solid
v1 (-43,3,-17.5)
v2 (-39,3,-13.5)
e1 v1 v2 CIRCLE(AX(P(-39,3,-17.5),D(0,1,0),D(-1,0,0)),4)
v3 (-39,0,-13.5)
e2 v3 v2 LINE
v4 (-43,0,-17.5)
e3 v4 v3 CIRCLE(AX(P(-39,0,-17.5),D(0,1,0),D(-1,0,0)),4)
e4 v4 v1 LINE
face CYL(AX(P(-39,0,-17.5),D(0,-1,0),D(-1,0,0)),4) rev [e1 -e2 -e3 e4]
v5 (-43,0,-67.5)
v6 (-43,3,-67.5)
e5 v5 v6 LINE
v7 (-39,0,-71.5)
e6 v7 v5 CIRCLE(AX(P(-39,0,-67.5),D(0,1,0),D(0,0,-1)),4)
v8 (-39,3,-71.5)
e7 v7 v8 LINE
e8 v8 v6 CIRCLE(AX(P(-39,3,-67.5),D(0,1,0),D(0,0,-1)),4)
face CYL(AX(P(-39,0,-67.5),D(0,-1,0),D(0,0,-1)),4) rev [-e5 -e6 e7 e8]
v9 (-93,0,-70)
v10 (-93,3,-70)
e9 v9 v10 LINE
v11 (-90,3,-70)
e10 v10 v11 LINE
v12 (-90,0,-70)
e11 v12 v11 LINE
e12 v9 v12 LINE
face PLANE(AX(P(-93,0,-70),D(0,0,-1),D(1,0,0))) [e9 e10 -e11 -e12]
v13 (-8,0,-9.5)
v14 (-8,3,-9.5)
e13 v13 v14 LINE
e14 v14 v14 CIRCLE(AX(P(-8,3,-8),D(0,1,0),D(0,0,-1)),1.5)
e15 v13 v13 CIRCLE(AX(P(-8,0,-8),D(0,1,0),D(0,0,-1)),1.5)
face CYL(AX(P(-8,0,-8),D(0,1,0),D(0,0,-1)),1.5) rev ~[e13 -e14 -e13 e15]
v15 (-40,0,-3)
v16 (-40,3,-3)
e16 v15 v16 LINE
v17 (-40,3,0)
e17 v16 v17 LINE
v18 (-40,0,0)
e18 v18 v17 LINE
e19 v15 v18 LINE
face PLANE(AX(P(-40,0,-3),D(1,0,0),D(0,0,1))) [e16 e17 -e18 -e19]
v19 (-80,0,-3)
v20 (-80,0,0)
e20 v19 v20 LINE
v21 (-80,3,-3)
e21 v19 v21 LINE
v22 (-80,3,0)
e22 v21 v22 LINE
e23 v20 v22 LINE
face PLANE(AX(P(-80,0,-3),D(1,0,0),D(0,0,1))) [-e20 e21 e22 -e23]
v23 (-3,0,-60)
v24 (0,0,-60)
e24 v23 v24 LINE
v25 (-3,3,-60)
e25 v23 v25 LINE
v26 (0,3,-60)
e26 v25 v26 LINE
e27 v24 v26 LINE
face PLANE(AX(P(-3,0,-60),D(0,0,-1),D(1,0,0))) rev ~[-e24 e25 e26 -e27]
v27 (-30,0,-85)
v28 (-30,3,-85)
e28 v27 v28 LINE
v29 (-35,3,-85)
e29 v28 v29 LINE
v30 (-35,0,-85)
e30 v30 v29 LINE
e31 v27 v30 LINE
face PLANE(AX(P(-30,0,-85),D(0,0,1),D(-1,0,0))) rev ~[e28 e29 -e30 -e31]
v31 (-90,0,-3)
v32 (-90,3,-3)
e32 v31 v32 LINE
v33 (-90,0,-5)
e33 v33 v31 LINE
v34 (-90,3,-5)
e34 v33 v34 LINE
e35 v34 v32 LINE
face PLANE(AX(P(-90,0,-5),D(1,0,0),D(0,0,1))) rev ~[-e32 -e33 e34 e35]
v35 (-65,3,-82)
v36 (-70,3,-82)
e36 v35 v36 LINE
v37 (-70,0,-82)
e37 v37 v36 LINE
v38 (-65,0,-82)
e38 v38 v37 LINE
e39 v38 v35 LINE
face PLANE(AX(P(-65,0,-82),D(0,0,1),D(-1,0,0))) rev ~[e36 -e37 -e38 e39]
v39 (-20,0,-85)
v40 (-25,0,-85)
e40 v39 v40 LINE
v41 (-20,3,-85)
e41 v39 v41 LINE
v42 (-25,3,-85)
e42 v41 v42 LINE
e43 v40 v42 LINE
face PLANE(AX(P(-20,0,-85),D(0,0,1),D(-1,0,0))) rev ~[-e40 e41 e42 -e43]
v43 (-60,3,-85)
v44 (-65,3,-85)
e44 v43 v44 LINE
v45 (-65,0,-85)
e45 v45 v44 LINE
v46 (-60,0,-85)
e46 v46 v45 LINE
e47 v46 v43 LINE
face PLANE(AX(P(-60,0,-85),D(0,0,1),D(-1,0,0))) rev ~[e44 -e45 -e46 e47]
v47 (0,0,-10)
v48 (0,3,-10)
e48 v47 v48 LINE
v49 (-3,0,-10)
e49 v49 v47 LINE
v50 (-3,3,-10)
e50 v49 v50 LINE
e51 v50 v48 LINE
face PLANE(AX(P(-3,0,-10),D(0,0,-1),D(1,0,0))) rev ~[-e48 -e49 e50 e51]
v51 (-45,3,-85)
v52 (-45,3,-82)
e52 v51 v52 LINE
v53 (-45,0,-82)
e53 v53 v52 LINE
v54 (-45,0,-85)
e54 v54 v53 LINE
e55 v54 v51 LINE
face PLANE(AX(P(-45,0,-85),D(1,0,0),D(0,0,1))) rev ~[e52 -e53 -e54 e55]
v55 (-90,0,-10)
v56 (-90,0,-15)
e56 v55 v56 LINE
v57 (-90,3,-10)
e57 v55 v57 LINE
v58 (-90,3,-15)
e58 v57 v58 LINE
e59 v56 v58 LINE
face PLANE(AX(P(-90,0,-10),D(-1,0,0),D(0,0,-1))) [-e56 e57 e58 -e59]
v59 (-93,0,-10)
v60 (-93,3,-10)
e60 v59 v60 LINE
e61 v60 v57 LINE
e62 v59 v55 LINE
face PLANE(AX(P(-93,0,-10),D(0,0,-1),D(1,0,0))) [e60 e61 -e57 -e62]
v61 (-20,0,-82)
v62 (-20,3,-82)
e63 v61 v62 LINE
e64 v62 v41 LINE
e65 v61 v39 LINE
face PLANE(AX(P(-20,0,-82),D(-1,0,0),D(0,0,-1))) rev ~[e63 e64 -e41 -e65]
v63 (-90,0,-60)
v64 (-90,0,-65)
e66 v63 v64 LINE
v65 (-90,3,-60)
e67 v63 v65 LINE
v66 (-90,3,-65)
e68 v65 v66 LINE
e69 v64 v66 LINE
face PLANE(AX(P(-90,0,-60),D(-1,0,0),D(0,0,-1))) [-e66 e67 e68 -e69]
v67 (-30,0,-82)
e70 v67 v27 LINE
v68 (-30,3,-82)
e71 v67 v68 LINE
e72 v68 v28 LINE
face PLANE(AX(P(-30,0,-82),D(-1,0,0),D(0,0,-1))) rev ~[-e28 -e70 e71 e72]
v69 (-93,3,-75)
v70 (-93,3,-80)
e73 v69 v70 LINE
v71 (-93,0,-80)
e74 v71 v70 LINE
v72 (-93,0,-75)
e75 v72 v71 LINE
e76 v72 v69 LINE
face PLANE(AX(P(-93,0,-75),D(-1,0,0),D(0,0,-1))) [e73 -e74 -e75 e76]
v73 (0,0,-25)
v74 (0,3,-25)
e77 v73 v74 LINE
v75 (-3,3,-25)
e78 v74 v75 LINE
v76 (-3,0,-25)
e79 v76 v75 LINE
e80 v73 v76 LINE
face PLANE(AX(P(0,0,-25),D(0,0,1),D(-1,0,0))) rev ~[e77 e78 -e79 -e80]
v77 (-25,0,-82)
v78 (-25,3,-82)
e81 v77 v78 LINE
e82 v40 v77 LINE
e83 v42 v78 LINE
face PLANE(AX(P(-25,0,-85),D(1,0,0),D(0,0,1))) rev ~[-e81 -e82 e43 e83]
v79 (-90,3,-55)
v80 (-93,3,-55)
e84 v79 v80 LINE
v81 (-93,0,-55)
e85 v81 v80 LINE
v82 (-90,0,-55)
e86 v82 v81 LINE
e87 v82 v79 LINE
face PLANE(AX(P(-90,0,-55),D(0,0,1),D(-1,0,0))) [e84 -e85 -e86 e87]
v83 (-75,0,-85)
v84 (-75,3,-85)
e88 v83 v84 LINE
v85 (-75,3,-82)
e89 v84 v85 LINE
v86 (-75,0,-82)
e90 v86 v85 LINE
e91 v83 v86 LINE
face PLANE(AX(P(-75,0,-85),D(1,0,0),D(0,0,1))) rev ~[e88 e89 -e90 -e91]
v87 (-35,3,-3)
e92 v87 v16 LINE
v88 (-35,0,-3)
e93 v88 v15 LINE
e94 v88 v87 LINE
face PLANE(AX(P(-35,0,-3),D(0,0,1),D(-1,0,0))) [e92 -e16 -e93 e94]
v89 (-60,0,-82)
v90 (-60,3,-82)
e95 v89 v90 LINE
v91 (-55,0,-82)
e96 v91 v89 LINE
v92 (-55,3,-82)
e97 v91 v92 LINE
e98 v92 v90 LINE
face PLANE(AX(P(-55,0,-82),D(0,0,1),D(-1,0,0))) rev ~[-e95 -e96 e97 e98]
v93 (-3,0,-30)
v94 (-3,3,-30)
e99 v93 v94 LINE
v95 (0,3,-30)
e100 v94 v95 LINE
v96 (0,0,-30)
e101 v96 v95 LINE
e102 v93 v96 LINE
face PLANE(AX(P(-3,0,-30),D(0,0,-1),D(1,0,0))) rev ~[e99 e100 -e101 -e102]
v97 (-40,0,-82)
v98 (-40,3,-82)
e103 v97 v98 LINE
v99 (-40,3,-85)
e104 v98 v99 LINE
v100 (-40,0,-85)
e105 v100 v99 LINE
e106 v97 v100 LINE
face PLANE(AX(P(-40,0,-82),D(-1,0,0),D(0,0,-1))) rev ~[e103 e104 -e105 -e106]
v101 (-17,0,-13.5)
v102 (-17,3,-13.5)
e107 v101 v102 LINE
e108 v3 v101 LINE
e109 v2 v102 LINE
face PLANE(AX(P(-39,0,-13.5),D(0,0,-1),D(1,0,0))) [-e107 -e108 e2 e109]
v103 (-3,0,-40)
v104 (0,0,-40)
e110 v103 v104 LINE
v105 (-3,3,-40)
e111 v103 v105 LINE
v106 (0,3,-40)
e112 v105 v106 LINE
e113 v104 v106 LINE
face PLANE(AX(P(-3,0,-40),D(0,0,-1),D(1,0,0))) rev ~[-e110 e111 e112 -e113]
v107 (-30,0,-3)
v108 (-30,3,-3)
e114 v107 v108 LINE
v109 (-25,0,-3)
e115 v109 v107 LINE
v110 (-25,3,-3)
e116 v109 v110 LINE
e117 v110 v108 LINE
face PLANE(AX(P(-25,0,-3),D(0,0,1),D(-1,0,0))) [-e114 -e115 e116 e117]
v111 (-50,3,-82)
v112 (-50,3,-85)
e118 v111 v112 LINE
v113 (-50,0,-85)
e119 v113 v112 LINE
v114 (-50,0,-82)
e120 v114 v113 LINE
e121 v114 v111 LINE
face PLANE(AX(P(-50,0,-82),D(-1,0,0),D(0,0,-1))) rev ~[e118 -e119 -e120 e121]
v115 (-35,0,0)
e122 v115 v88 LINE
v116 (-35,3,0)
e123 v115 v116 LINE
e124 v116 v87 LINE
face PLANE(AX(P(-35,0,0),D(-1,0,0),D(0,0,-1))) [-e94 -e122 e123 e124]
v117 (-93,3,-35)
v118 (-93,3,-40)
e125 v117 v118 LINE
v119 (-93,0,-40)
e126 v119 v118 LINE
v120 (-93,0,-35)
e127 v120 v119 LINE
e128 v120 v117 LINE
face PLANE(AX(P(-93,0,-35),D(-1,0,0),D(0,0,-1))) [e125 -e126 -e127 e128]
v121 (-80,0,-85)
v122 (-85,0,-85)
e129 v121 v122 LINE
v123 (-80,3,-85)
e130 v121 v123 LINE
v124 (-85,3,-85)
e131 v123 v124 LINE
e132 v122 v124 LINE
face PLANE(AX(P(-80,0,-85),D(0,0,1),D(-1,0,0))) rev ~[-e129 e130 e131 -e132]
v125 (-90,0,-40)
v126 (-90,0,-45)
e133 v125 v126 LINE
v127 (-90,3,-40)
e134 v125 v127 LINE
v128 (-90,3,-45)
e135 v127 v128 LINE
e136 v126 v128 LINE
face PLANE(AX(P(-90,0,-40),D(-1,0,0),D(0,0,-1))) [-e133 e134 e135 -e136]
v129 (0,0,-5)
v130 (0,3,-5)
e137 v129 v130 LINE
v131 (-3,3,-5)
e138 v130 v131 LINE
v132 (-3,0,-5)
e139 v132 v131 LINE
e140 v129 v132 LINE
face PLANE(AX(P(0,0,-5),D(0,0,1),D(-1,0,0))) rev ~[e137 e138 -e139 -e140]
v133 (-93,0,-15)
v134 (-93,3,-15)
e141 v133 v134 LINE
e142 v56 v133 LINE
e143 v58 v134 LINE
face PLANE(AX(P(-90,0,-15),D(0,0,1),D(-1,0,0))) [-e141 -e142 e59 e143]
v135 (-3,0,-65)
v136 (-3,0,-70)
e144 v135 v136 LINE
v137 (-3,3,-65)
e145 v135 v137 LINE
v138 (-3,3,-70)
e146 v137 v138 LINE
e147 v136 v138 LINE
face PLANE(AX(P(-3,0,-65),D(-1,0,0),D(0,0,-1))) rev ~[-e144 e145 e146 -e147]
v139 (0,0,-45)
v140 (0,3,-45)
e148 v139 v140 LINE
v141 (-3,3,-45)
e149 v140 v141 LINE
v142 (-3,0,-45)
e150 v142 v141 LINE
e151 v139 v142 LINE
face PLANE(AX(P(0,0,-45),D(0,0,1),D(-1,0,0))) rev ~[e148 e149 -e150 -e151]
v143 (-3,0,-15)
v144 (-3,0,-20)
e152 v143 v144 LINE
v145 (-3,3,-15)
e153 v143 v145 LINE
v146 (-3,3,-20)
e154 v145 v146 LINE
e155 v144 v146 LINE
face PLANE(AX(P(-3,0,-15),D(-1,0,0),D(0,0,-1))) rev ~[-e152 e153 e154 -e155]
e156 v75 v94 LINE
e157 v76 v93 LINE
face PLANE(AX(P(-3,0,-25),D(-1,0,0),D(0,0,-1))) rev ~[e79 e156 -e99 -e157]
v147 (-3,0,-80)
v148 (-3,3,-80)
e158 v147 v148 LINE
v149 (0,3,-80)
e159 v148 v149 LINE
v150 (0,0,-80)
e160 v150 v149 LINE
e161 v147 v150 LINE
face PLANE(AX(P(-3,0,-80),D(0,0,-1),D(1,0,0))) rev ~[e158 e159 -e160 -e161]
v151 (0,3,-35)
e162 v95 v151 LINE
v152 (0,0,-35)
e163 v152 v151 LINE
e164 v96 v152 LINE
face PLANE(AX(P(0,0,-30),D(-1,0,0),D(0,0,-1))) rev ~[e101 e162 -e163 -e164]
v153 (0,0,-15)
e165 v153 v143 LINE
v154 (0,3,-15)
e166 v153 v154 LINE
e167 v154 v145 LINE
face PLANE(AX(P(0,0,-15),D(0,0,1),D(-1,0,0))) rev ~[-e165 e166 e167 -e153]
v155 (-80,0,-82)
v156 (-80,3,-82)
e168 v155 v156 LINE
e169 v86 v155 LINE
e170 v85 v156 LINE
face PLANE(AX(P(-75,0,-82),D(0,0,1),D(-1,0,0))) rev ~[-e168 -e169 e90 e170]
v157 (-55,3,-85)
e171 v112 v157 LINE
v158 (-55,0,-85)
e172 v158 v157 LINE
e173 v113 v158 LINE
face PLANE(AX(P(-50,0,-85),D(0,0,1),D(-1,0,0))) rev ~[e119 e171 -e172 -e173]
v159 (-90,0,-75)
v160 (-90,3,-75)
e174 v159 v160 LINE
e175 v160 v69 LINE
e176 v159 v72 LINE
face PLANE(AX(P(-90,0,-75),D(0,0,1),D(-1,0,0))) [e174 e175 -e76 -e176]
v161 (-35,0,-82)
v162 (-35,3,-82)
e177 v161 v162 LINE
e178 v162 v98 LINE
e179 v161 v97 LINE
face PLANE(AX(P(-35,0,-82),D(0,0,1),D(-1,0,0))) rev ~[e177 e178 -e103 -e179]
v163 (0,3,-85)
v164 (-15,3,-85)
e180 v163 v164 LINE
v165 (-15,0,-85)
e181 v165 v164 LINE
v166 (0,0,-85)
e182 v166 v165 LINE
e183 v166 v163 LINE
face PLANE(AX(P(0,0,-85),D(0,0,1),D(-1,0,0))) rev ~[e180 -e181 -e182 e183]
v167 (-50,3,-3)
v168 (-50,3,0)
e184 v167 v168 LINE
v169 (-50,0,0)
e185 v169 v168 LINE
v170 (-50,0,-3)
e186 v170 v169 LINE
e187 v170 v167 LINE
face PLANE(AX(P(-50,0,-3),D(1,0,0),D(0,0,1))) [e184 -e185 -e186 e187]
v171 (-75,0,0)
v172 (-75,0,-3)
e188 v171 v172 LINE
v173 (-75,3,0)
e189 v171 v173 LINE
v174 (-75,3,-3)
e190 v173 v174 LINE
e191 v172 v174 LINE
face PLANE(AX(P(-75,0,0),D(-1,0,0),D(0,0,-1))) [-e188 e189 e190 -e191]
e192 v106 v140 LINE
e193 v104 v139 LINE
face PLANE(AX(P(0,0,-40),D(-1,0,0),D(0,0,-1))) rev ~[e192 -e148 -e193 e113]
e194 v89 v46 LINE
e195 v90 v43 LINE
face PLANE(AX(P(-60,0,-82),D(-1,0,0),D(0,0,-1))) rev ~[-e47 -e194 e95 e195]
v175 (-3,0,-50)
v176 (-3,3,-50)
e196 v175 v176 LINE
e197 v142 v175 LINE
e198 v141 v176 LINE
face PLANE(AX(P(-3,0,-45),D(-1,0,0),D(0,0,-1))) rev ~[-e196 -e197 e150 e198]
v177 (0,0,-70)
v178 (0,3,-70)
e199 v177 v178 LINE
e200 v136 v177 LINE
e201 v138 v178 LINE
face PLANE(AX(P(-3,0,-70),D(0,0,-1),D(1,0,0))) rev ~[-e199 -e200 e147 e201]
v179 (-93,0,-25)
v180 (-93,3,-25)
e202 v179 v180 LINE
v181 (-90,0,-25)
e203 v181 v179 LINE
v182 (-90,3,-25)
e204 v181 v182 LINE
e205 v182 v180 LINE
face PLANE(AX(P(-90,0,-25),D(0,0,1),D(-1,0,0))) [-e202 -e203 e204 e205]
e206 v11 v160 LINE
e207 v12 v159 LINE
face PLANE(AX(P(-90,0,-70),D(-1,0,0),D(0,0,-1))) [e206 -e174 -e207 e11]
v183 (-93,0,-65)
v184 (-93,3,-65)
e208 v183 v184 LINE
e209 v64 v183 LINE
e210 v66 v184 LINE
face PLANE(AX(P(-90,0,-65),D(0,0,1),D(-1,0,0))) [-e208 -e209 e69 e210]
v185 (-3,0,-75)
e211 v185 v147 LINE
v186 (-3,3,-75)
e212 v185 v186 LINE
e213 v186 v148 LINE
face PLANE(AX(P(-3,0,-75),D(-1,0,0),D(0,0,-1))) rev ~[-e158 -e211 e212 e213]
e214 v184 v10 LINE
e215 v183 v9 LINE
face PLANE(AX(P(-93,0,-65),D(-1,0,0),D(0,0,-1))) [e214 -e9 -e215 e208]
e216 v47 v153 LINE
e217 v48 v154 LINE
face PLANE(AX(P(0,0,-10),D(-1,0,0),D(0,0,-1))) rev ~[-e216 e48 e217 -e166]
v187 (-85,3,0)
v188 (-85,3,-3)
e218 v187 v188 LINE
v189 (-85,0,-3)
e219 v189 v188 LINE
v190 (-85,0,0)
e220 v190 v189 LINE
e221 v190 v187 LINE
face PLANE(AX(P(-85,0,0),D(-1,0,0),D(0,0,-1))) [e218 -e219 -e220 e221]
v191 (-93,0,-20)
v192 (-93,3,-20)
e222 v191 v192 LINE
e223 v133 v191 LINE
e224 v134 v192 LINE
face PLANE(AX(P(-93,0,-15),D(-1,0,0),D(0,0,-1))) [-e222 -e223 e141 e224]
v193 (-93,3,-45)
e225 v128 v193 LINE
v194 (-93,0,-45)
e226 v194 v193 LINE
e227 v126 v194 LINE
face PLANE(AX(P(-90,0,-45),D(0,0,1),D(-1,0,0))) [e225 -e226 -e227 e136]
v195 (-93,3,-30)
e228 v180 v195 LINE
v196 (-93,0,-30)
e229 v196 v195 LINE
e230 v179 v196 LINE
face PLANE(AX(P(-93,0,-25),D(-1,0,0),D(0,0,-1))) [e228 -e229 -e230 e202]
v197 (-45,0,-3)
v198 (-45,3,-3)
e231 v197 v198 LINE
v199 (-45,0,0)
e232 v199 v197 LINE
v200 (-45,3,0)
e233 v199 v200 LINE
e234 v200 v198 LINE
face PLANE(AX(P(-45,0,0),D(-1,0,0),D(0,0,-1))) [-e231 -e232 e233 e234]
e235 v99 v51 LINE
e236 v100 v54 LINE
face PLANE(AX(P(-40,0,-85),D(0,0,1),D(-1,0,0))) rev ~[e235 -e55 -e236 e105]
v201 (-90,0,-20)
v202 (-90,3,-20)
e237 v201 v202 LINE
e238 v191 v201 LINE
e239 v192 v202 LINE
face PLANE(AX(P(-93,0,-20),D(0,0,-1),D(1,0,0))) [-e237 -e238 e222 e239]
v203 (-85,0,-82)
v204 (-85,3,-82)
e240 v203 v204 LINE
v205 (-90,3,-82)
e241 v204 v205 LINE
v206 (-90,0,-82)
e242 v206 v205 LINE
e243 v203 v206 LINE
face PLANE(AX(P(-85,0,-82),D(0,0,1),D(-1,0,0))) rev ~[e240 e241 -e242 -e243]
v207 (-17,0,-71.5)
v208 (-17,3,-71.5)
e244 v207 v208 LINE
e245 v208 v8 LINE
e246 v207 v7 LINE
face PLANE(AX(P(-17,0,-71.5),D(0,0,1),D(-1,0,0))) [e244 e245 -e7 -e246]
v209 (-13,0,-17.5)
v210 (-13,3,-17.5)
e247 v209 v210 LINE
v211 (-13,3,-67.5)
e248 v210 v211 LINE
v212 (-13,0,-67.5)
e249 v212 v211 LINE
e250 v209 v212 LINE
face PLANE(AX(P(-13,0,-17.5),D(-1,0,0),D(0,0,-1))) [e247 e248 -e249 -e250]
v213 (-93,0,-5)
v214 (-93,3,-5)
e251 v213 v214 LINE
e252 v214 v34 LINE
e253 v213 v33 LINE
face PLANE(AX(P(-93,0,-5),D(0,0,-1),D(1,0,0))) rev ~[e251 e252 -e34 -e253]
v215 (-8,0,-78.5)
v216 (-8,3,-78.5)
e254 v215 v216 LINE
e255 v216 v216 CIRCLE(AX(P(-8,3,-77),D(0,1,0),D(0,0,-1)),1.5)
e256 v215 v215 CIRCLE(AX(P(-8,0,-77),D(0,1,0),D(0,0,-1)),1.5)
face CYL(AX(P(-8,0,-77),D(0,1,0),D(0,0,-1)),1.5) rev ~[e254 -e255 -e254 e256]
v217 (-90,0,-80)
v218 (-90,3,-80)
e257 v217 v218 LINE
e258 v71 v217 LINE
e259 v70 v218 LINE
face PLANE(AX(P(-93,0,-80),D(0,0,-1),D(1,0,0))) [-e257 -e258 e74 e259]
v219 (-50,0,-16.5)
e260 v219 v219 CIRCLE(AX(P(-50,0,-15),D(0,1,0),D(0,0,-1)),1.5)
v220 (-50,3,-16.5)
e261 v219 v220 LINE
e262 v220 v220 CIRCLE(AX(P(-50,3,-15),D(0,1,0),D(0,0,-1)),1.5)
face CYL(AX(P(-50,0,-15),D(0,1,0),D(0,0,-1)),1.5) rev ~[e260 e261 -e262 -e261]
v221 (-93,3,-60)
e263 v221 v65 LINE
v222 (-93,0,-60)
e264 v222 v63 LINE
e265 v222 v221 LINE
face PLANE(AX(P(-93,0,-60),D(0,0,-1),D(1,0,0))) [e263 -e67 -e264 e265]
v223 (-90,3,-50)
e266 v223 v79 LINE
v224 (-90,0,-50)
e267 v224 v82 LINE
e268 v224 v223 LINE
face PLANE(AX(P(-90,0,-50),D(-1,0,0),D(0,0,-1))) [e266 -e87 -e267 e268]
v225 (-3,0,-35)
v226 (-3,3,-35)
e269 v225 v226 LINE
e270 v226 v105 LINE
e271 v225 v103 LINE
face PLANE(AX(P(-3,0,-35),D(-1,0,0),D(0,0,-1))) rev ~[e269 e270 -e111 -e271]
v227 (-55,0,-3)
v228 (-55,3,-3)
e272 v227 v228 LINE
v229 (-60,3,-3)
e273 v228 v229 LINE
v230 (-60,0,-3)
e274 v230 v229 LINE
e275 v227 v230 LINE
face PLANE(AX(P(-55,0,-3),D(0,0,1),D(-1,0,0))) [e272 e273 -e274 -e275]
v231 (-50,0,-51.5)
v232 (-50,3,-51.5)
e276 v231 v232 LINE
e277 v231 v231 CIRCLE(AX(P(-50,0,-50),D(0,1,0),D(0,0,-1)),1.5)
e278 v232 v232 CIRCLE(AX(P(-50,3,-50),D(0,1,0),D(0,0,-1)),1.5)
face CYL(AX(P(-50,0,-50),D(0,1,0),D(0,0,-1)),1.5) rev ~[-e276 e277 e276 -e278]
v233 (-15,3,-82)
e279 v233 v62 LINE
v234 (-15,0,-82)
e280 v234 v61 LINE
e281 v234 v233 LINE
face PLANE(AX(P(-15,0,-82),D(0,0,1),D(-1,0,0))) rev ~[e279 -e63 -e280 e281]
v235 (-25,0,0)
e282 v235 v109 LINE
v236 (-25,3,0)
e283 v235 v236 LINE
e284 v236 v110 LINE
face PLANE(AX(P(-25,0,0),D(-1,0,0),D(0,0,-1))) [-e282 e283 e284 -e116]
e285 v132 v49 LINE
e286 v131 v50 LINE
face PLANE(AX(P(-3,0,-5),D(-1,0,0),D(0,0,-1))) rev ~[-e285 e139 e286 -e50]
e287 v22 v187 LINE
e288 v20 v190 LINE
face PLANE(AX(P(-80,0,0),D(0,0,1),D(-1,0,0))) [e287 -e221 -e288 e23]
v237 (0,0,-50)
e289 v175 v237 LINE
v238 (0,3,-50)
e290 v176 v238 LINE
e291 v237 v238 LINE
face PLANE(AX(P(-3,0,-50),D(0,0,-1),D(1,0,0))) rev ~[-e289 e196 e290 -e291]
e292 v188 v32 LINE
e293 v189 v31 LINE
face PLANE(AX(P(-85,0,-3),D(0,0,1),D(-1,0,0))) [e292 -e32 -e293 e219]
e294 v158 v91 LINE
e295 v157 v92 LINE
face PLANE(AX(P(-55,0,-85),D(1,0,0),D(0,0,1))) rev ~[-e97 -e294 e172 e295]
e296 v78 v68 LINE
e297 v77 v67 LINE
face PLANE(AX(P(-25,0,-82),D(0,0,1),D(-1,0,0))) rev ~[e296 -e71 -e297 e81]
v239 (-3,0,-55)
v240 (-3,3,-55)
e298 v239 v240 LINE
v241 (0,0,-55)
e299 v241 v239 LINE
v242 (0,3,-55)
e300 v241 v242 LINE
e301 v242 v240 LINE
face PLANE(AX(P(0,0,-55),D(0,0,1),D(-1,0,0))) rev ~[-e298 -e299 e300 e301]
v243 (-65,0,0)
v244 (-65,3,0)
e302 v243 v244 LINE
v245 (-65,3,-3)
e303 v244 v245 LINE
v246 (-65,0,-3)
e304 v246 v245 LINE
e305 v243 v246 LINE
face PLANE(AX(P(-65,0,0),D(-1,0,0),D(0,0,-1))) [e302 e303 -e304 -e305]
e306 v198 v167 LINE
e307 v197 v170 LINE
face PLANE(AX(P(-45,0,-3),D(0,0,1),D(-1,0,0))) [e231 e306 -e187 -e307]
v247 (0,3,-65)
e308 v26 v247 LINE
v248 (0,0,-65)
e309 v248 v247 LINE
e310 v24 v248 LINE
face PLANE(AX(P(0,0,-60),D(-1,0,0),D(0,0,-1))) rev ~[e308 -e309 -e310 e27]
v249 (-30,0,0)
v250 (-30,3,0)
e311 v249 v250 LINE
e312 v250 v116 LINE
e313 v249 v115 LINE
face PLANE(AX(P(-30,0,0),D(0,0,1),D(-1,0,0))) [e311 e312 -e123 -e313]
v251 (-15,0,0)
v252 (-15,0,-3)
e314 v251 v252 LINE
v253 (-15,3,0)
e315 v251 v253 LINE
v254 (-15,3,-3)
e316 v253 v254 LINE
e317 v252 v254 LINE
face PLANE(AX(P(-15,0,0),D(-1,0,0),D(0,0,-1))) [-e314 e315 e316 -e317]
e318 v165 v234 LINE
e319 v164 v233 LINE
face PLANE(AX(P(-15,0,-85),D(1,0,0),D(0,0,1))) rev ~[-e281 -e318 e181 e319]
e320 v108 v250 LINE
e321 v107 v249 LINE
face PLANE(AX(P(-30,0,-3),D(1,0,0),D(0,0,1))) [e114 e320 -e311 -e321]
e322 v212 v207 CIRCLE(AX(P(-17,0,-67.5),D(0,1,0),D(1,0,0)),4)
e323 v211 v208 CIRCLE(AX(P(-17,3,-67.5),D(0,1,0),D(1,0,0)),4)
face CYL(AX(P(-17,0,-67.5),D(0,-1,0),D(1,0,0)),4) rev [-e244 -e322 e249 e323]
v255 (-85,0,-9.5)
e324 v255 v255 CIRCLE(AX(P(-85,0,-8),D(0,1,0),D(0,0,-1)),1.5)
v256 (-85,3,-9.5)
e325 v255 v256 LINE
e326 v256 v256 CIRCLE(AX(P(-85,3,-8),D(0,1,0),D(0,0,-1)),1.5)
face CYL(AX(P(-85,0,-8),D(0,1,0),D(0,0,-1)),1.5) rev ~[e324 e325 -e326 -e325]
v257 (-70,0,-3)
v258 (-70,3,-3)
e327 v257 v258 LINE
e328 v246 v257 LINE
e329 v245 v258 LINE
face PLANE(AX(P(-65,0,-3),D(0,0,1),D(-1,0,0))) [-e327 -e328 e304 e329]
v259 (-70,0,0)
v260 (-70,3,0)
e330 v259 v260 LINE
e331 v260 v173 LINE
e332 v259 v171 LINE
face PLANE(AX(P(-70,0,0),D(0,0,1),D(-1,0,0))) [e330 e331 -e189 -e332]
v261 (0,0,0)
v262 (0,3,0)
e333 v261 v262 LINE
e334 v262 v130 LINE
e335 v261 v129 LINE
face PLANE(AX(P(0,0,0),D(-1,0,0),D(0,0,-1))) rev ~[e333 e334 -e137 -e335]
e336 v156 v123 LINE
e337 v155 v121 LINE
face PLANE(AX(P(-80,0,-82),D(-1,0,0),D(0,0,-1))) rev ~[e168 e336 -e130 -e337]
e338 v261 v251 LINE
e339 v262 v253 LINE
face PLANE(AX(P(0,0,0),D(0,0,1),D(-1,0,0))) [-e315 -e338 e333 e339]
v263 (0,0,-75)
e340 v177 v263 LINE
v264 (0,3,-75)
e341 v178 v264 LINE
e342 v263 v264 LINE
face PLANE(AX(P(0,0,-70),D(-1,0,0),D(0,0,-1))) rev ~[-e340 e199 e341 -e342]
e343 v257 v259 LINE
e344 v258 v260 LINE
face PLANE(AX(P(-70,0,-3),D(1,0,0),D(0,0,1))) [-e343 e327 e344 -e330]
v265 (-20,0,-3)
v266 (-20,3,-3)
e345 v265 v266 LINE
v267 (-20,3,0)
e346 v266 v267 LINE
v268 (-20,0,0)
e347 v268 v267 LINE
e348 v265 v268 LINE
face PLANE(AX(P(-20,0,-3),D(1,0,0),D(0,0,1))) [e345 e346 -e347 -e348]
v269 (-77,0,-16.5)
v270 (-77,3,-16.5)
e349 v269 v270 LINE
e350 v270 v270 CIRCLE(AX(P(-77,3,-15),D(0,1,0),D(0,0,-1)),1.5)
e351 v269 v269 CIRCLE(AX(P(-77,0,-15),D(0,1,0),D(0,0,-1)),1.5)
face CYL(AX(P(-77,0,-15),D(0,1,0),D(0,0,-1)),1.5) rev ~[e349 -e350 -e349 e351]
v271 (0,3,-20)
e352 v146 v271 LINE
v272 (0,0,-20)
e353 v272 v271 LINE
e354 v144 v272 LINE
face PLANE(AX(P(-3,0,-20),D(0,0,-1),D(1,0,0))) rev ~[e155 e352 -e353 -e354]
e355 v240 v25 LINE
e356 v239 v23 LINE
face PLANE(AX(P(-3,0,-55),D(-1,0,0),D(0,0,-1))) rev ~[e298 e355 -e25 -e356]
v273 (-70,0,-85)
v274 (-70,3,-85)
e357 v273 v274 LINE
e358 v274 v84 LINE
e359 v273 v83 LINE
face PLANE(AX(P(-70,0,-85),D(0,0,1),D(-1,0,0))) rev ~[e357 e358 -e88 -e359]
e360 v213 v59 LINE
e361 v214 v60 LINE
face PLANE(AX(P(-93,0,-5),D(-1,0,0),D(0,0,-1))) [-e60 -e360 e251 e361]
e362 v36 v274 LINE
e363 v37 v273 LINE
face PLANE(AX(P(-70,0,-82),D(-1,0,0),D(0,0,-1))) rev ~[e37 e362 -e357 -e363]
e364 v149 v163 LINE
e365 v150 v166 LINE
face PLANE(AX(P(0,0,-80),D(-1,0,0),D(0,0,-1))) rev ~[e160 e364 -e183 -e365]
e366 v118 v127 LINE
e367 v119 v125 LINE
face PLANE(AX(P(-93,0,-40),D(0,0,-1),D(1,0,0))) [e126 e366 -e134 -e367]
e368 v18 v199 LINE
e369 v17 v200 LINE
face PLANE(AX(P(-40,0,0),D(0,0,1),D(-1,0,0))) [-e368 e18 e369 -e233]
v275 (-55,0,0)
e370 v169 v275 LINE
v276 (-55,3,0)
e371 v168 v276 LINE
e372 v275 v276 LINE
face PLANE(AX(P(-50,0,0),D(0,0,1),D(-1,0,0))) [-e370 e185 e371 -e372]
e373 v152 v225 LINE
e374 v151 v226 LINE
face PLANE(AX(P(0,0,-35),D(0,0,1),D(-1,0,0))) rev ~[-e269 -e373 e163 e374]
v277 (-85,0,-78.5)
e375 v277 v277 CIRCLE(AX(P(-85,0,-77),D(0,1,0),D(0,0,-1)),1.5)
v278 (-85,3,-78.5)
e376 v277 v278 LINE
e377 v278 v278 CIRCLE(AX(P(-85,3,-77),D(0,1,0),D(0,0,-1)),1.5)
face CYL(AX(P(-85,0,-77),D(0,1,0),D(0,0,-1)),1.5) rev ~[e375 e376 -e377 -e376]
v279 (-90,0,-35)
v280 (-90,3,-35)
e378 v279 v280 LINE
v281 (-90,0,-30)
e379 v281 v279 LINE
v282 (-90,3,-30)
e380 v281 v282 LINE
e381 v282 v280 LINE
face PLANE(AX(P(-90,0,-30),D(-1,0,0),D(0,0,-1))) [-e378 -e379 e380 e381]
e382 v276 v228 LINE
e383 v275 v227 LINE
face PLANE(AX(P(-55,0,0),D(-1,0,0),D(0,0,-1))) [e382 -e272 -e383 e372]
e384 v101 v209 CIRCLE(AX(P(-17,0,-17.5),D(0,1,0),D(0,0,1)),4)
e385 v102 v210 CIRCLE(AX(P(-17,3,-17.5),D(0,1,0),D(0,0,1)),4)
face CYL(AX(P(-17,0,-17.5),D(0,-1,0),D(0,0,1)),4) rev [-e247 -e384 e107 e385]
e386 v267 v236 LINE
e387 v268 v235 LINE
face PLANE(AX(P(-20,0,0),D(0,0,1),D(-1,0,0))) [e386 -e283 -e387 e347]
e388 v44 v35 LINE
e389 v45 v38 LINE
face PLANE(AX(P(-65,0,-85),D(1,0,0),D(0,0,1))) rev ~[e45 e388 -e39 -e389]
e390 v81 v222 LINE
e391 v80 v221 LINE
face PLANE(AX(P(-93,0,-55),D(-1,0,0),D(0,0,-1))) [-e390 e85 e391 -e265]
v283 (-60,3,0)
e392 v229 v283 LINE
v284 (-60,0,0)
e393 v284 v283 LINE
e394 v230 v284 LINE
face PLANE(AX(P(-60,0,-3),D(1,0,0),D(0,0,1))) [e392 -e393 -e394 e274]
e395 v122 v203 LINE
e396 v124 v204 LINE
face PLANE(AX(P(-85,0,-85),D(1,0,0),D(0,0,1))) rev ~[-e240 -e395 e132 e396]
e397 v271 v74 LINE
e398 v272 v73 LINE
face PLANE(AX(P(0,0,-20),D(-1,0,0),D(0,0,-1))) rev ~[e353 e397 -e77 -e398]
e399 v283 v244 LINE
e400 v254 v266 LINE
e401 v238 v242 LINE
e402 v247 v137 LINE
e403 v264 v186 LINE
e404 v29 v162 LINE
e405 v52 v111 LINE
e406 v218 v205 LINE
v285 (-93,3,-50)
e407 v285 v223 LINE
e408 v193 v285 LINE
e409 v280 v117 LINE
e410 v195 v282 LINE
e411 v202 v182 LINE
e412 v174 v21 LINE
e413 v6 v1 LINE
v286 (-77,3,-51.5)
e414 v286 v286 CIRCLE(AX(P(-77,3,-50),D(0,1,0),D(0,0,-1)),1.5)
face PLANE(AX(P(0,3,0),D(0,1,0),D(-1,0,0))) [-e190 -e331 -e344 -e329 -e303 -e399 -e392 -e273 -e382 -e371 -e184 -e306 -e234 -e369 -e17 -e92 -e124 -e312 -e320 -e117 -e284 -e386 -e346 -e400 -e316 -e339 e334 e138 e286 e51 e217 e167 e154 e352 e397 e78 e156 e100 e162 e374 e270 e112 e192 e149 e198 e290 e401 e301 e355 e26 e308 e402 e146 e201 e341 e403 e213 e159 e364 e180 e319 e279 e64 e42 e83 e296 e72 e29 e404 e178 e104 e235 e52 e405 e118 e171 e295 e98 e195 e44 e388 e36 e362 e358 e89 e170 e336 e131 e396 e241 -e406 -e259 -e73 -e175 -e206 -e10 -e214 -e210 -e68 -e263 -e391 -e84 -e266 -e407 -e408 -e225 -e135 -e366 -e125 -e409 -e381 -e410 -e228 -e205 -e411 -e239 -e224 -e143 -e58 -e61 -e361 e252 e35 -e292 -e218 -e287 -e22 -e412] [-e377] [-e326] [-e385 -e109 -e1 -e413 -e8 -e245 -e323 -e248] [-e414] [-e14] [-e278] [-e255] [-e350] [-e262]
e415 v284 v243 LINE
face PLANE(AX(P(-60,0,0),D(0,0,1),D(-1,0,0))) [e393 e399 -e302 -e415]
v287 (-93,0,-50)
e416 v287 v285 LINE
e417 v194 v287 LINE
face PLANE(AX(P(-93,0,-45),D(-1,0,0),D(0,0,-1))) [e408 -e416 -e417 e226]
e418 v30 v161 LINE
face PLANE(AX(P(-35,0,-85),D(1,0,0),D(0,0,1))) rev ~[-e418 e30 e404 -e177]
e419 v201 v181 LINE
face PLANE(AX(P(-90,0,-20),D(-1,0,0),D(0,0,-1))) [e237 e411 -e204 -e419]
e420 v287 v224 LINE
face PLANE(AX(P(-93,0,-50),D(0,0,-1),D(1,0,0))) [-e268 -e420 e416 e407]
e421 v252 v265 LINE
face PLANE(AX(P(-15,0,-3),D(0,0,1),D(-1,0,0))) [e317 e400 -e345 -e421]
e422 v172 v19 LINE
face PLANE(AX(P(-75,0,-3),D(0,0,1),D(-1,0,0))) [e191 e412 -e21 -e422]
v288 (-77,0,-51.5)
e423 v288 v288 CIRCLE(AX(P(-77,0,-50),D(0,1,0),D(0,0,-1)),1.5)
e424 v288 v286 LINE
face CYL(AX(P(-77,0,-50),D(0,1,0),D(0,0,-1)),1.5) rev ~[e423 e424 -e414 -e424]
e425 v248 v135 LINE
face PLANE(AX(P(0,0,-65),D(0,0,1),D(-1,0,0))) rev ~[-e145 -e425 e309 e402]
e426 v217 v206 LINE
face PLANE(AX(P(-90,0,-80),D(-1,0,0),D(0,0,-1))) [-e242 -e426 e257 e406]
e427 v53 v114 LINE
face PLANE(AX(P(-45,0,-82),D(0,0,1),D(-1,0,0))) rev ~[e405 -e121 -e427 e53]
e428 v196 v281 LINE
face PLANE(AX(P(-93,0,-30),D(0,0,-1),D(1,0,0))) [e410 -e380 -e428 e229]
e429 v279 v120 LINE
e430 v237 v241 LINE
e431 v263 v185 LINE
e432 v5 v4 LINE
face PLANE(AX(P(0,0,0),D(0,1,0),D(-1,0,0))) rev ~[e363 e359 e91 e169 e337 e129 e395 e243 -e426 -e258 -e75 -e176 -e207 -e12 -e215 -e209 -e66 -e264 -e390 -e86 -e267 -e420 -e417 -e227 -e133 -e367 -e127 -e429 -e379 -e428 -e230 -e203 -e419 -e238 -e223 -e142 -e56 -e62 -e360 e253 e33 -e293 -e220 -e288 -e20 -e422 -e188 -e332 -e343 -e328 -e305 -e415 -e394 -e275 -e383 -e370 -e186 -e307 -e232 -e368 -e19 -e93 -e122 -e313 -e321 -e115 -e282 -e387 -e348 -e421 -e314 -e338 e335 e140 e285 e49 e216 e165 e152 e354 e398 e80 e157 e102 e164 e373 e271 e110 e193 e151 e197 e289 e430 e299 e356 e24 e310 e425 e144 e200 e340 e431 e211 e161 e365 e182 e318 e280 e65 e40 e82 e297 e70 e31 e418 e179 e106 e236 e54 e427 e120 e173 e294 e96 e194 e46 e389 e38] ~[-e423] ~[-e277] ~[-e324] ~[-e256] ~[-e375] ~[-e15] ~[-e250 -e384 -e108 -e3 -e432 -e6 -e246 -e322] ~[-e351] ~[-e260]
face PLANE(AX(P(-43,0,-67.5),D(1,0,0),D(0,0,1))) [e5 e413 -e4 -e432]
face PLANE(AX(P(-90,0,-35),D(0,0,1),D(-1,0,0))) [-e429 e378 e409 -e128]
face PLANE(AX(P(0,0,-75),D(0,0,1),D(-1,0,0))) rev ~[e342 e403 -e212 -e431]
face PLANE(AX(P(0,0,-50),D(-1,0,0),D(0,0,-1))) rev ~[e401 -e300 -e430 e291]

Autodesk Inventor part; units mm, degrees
ref_plane "YZ Plane" through (0, 0, 0) normal (1, 0, 0) x (0, 1, 0)
ref_plane "XZ Plane" through (0, 0, 0) normal (0, 1, 0) x (-1, 0, 0)
ref_plane "XY Plane" through (0, 0, 0) normal (0, 0, 1) x (1, 0, 0)
sketch "Sketch1" plane through (0, 0, 0) normal (0, 1, 0) x (-1, 0, 0)
  line L0 (46, -10.5) -> (10, -10.5)
  line L1 (10, -10.5) -> (10, -74.5)
  line L2 (10, -74.5) -> (46, -74.5)
  line L3 (46, -74.5) -> (46, -10.5)
  line L4 (46, -10) -> (46, -55) construction
  line L5 (81, -55) -> (81, -10) construction
  line L6 (81, -10) -> (46, -10) construction
  line L7 (46, -55) -> (81, -55) construction
  line L8 (72.771, -10) -> (54.229, -10) construction
  line L9 (54.229, -10) -> (54.229, -53.18) construction
  line L10 (54.229, -53.18) -> (72.771, -53.18) construction
  line L11 (72.771, -53.18) -> (72.771, -10) construction
  line L12 (63.5, 3.8298) -> (63.5, -62.0489) construction
  line L13 (67.5, -15) -> (59.5, -15) construction
  line L14 (59.5, -15) -> (59.5, -10) construction
  line L15 (59.5, -10) -> (67.5, -10) construction
  line L16 (67.5, -10) -> (67.5, -15) construction
  circle A0 centre (77, -50) radius 3.5 construction
  circle A1 centre (50, -50) radius 3.5 construction
  circle A2 centre (77, -15) radius 3.5 construction
  circle A3 centre (50, -15) radius 3.5 construction
  line L17 (39, -13.5) -> (17, -13.5)
  line L18 (13, -17.5) -> (13, -67.5)
  line L19 (17, -71.5) -> (39, -71.5)
  line L20 (43, -67.5) -> (43, -17.5)
  line L21 (-0.7624, -103.1576) -> (89.2376, -103.1576) construction
  line L22 (117.4263, -3.5737) -> (117.4263, -83.5737) construction
  line L23 (0, 0) -> (0, -5)
  line L24 (0, -5) -> (3, -5)
  line L25 (3, -5) -> (3, -10)
  line L26 (3, -10) -> (0, -10)
  line L27 (0, -10) -> (0, -15)
  line L28 (0, -15) -> (3, -15)
  line L29 (3, -15) -> (3, -20)
  line L30 (3, -20) -> (0, -20)
  line L31 (0, -20) -> (0, -25)
  line L32 (0, -25) -> (3, -25)
  line L33 (3, -25) -> (3, -30)
  line L34 (3, -30) -> (0, -30)
  line L35 (0, -30) -> (0, -35)
  line L36 (0, -35) -> (3, -35)
  line L37 (3, -35) -> (3, -40)
  line L38 (3, -40) -> (0, -40)
  line L39 (0, -40) -> (0, -45)
  line L40 (0, -45) -> (3, -45)
  line L41 (3, -45) -> (3, -50)
  line L42 (3, -50) -> (0, -50)
  line L43 (0, -50) -> (0, -55)
  line L44 (0, -55) -> (3, -55)
  line L45 (3, -55) -> (3, -60)
  line L46 (3, -60) -> (0, -60)
  line L47 (0, -60) -> (0, -65)
  line L48 (0, -65) -> (3, -65)
  line L49 (3, -65) -> (3, -70)
  line L50 (3, -70) -> (0, -70)
  line L51 (0, -70) -> (0, -75)
  line L52 (0, -75) -> (3, -75)
  line L53 (3, -75) -> (3, -80)
  line L54 (0, 0) -> (15, 0)
  line L55 (15, 0) -> (15, -3)
  line L56 (15, -3) -> (20, -3)
  line L57 (20, -3) -> (20, 0)
  line L58 (20, 0) -> (25, 0)
  line L59 (25, 0) -> (25, -3)
  line L60 (25, -3) -> (30, -3)
  line L61 (30, -3) -> (30, 0)
  line L62 (30, 0) -> (35, 0)
  line L63 (35, 0) -> (35, -3)
  line L64 (35, -3) -> (40, -3)
  line L65 (40, -3) -> (40, 0)
  line L66 (40, 0) -> (45, 0)
  line L67 (45, 0) -> (45, -3)
  line L68 (45, -3) -> (50, -3)
  line L69 (50, -3) -> (50, 0)
  line L70 (50, 0) -> (55, 0)
  line L71 (55, 0) -> (55, -3)
  line L72 (55, -3) -> (60, -3)
  line L73 (60, -3) -> (60, 0)
  line L74 (60, 0) -> (65, 0)
  line L75 (65, 0) -> (65, -3)
  line L76 (65, -3) -> (70, -3)
  line L77 (70, -3) -> (70, 0)
  line L78 (70, 0) -> (75, 0)
  line L79 (75, 0) -> (75, -3)
  line L80 (75, -3) -> (80, -3)
  line L81 (80, -3) -> (80, 0)
  line L82 (80, 0) -> (85, 0)
  line L83 (93, -5) -> (93, -10)
  line L84 (93, -10) -> (90, -10)
  line L85 (90, -10) -> (90, -15)
  line L86 (90, -15) -> (93, -15)
  line L87 (93, -15) -> (93, -20)
  line L88 (93, -20) -> (90, -20)
  line L89 (90, -20) -> (90, -25)
  line L90 (90, -25) -> (93, -25)
  line L91 (93, -25) -> (93, -30)
  line L92 (93, -30) -> (90, -30)
  line L93 (90, -30) -> (90, -35)
  line L94 (90, -35) -> (93, -35)
  line L95 (93, -35) -> (93, -40)
  line L96 (93, -40) -> (90, -40)
  line L97 (90, -40) -> (90, -45)
  line L98 (90, -45) -> (93, -45)
  line L99 (93, -45) -> (93, -50)
  line L100 (93, -50) -> (90, -50)
  line L101 (90, -50) -> (90, -55)
  line L102 (90, -55) -> (93, -55)
  line L103 (93, -55) -> (93, -60)
  line L104 (93, -60) -> (90, -60)
  line L105 (90, -60) -> (90, -65)
  line L106 (3, -80) -> (0, -80)
  line L107 (0, -80) -> (0, -85)
  line L108 (0, -85) -> (15, -85)
  line L109 (15, -85) -> (15, -82)
  line L110 (15, -82) -> (20, -82)
  line L111 (20, -82) -> (20, -85)
  line L112 (20, -85) -> (25, -85)
  line L113 (25, -85) -> (25, -82)
  line L114 (25, -82) -> (30, -82)
  line L115 (30, -82) -> (30, -85)
  line L116 (30, -85) -> (35, -85)
  line L117 (35, -85) -> (35, -82)
  line L118 (35, -82) -> (40, -82)
  line L119 (40, -82) -> (40, -85)
  line L120 (40, -85) -> (45, -85)
  line L121 (45, -85) -> (45, -82)
  line L122 (45, -82) -> (50, -82)
  line L123 (50, -82) -> (50, -85)
  line L124 (50, -85) -> (55, -85)
  line L125 (55, -85) -> (55, -82)
  line L126 (55, -82) -> (60, -82)
  line L127 (60, -82) -> (60, -85)
  line L128 (60, -85) -> (65, -85)
  line L129 (65, -85) -> (65, -82)
  line L130 (65, -82) -> (70, -82)
  line L131 (70, -82) -> (70, -85)
  line L132 (70, -85) -> (75, -85)
  line L133 (75, -85) -> (75, -82)
  line L134 (75, -82) -> (80, -82)
  line L135 (80, -82) -> (80, -85)
  line L136 (80, -85) -> (85, -85)
  line L137 (14, -42.5) -> (78, -42.5) construction
  line L138 (46.5, -17.9001) -> (46.5, -65.4001) construction
  line L139 (90, -65) -> (93, -65)
  line L140 (93, -65) -> (93, -70)
  line L141 (93, -70) -> (90, -70)
  line L142 (90, -70) -> (90, -75)
  line L143 (90, -75) -> (93, -75)
  line L144 (93, -75) -> (93, -80)
  line L145 (85, 0) -> (85, -3)
  line L146 (85, -3) -> (90, -3)
  line L147 (85, -85) -> (85, -82)
  line L148 (85, -82) -> (90, -82)
  line L149 (93, -5) -> (90, -5)
  line L150 (90, -5) -> (90, -3)
  line L151 (93, -80) -> (90, -80)
  line L152 (90, -80) -> (90, -82)
  arc A4 (17, -13.5) -> (13, -17.5) centre (17, -17.5) ccw
  arc A5 (43, -17.5) -> (39, -13.5) centre (39, -17.5) ccw
  arc A6 (13, -67.5) -> (17, -71.5) centre (17, -67.5) ccw
  arc A7 (39, -71.5) -> (43, -67.5) centre (39, -67.5) ccw
  point P0 (85, -8)
  point P1 (85, -77)
  point P2 (8, -77)
  point P3 (8, -8)
  dimension "d72" = 10
  dimension "d2" = 36
  dimension "d3" = 64
  dimension "d22" = 35
  dimension "d24" = 5
  dimension "d25" = 4
  dimension "d26" = 5
  dimension "d27" = 4
  dimension "d28" = 18.542
  dimension "d29" = 43.18
  dimension "d30" = 8
  dimension "d31" = 5
  dimension "d34" = 7
  dimension "d35" = 7
  dimension "d36" = 7
  dimension "d37" = 7
  dimension "d41" = 3
  dimension "d42" = 3
  dimension "d43" = 3
  dimension "d44" = 3
  dimension "d87" = 15
  dimension "d126" = 5
  dimension "d127" = 3
  dimension "d128" = 5
  dimension "d129" = 3
  dimension "d130" = 3
  dimension "d131" = 5
  dimension "d132" = 15
  dimension "d134" = 7
  dimension "d144" = 5
  dimension "d146" = 45
  dimension "d147" = 5
  dimension "d148" = 3
  dimension "d149" = 5
  dimension "d150" = 5
  dimension "d151" = 5
  dimension "d152" = 5
  dimension "d153" = 5
  dimension "d154" = 5
  dimension "d155" = 5
  dimension "d156" = 5
  dimension "d164" = 69
  dimension "d165" = 8
  dimension "d166" = 10.5
  dimension "d167" = 85
  dimension "d168" = 93
  dimension "d170" = 10
extrude "Extrusion3" add sketch "Sketch1" along normal blind 3 contours L3 L2 L1 L0 | L54 L55 L56 L57 L58 L59 L60 L61 L62 L63 L64 L65 L66 L67 L68 L69 L70 L71 L72 L73 L74 L75 L76 L77 L78 L79 L80 L81 L82 L145 L146 L150 L149 L83 L84 L85 L86 L87 L88 L89 L90 L91 L92 L93 L94 L95 L96 L97 L98 L99 L100 L101 L102 L103 L104 L105 L139 L140 L141 L142 L143 L144 L151 L152 L148 L147 L136 L135 L134 L133 L132 L131 L130 L129 L128 L127 L126 L125 L124 L123 L122 L121 L120 L119 L118 L117 L116 L115 L114 L113 L112 L111 L110 L109 L108 L107 L106 L53 L52 L51 L50 L49 L48 L47 L46 L45 L44 L43 L42 L41 L40 L39 L38 L37 L36 L35 L34 L33 L32 L31 L30 L29 L28 L27 L26 L25 L24 L23
hole "Hole1" at (-77, 0, -50) at (-50, 0, -50) at (-50, 0, -15) at (-77, 0, -15) direction (0, 1, 0) diameter 3 end through all
hole "Hole2" at (-85, 0, -8) at (-85, 0, -77) at (-8, 0, -77) at (-8, 0, -8) direction (0, 1, 0) diameter 3 end through all
equation "\"x\" = 3"
properties part number "Bottom" material "Wood (Birch)"
